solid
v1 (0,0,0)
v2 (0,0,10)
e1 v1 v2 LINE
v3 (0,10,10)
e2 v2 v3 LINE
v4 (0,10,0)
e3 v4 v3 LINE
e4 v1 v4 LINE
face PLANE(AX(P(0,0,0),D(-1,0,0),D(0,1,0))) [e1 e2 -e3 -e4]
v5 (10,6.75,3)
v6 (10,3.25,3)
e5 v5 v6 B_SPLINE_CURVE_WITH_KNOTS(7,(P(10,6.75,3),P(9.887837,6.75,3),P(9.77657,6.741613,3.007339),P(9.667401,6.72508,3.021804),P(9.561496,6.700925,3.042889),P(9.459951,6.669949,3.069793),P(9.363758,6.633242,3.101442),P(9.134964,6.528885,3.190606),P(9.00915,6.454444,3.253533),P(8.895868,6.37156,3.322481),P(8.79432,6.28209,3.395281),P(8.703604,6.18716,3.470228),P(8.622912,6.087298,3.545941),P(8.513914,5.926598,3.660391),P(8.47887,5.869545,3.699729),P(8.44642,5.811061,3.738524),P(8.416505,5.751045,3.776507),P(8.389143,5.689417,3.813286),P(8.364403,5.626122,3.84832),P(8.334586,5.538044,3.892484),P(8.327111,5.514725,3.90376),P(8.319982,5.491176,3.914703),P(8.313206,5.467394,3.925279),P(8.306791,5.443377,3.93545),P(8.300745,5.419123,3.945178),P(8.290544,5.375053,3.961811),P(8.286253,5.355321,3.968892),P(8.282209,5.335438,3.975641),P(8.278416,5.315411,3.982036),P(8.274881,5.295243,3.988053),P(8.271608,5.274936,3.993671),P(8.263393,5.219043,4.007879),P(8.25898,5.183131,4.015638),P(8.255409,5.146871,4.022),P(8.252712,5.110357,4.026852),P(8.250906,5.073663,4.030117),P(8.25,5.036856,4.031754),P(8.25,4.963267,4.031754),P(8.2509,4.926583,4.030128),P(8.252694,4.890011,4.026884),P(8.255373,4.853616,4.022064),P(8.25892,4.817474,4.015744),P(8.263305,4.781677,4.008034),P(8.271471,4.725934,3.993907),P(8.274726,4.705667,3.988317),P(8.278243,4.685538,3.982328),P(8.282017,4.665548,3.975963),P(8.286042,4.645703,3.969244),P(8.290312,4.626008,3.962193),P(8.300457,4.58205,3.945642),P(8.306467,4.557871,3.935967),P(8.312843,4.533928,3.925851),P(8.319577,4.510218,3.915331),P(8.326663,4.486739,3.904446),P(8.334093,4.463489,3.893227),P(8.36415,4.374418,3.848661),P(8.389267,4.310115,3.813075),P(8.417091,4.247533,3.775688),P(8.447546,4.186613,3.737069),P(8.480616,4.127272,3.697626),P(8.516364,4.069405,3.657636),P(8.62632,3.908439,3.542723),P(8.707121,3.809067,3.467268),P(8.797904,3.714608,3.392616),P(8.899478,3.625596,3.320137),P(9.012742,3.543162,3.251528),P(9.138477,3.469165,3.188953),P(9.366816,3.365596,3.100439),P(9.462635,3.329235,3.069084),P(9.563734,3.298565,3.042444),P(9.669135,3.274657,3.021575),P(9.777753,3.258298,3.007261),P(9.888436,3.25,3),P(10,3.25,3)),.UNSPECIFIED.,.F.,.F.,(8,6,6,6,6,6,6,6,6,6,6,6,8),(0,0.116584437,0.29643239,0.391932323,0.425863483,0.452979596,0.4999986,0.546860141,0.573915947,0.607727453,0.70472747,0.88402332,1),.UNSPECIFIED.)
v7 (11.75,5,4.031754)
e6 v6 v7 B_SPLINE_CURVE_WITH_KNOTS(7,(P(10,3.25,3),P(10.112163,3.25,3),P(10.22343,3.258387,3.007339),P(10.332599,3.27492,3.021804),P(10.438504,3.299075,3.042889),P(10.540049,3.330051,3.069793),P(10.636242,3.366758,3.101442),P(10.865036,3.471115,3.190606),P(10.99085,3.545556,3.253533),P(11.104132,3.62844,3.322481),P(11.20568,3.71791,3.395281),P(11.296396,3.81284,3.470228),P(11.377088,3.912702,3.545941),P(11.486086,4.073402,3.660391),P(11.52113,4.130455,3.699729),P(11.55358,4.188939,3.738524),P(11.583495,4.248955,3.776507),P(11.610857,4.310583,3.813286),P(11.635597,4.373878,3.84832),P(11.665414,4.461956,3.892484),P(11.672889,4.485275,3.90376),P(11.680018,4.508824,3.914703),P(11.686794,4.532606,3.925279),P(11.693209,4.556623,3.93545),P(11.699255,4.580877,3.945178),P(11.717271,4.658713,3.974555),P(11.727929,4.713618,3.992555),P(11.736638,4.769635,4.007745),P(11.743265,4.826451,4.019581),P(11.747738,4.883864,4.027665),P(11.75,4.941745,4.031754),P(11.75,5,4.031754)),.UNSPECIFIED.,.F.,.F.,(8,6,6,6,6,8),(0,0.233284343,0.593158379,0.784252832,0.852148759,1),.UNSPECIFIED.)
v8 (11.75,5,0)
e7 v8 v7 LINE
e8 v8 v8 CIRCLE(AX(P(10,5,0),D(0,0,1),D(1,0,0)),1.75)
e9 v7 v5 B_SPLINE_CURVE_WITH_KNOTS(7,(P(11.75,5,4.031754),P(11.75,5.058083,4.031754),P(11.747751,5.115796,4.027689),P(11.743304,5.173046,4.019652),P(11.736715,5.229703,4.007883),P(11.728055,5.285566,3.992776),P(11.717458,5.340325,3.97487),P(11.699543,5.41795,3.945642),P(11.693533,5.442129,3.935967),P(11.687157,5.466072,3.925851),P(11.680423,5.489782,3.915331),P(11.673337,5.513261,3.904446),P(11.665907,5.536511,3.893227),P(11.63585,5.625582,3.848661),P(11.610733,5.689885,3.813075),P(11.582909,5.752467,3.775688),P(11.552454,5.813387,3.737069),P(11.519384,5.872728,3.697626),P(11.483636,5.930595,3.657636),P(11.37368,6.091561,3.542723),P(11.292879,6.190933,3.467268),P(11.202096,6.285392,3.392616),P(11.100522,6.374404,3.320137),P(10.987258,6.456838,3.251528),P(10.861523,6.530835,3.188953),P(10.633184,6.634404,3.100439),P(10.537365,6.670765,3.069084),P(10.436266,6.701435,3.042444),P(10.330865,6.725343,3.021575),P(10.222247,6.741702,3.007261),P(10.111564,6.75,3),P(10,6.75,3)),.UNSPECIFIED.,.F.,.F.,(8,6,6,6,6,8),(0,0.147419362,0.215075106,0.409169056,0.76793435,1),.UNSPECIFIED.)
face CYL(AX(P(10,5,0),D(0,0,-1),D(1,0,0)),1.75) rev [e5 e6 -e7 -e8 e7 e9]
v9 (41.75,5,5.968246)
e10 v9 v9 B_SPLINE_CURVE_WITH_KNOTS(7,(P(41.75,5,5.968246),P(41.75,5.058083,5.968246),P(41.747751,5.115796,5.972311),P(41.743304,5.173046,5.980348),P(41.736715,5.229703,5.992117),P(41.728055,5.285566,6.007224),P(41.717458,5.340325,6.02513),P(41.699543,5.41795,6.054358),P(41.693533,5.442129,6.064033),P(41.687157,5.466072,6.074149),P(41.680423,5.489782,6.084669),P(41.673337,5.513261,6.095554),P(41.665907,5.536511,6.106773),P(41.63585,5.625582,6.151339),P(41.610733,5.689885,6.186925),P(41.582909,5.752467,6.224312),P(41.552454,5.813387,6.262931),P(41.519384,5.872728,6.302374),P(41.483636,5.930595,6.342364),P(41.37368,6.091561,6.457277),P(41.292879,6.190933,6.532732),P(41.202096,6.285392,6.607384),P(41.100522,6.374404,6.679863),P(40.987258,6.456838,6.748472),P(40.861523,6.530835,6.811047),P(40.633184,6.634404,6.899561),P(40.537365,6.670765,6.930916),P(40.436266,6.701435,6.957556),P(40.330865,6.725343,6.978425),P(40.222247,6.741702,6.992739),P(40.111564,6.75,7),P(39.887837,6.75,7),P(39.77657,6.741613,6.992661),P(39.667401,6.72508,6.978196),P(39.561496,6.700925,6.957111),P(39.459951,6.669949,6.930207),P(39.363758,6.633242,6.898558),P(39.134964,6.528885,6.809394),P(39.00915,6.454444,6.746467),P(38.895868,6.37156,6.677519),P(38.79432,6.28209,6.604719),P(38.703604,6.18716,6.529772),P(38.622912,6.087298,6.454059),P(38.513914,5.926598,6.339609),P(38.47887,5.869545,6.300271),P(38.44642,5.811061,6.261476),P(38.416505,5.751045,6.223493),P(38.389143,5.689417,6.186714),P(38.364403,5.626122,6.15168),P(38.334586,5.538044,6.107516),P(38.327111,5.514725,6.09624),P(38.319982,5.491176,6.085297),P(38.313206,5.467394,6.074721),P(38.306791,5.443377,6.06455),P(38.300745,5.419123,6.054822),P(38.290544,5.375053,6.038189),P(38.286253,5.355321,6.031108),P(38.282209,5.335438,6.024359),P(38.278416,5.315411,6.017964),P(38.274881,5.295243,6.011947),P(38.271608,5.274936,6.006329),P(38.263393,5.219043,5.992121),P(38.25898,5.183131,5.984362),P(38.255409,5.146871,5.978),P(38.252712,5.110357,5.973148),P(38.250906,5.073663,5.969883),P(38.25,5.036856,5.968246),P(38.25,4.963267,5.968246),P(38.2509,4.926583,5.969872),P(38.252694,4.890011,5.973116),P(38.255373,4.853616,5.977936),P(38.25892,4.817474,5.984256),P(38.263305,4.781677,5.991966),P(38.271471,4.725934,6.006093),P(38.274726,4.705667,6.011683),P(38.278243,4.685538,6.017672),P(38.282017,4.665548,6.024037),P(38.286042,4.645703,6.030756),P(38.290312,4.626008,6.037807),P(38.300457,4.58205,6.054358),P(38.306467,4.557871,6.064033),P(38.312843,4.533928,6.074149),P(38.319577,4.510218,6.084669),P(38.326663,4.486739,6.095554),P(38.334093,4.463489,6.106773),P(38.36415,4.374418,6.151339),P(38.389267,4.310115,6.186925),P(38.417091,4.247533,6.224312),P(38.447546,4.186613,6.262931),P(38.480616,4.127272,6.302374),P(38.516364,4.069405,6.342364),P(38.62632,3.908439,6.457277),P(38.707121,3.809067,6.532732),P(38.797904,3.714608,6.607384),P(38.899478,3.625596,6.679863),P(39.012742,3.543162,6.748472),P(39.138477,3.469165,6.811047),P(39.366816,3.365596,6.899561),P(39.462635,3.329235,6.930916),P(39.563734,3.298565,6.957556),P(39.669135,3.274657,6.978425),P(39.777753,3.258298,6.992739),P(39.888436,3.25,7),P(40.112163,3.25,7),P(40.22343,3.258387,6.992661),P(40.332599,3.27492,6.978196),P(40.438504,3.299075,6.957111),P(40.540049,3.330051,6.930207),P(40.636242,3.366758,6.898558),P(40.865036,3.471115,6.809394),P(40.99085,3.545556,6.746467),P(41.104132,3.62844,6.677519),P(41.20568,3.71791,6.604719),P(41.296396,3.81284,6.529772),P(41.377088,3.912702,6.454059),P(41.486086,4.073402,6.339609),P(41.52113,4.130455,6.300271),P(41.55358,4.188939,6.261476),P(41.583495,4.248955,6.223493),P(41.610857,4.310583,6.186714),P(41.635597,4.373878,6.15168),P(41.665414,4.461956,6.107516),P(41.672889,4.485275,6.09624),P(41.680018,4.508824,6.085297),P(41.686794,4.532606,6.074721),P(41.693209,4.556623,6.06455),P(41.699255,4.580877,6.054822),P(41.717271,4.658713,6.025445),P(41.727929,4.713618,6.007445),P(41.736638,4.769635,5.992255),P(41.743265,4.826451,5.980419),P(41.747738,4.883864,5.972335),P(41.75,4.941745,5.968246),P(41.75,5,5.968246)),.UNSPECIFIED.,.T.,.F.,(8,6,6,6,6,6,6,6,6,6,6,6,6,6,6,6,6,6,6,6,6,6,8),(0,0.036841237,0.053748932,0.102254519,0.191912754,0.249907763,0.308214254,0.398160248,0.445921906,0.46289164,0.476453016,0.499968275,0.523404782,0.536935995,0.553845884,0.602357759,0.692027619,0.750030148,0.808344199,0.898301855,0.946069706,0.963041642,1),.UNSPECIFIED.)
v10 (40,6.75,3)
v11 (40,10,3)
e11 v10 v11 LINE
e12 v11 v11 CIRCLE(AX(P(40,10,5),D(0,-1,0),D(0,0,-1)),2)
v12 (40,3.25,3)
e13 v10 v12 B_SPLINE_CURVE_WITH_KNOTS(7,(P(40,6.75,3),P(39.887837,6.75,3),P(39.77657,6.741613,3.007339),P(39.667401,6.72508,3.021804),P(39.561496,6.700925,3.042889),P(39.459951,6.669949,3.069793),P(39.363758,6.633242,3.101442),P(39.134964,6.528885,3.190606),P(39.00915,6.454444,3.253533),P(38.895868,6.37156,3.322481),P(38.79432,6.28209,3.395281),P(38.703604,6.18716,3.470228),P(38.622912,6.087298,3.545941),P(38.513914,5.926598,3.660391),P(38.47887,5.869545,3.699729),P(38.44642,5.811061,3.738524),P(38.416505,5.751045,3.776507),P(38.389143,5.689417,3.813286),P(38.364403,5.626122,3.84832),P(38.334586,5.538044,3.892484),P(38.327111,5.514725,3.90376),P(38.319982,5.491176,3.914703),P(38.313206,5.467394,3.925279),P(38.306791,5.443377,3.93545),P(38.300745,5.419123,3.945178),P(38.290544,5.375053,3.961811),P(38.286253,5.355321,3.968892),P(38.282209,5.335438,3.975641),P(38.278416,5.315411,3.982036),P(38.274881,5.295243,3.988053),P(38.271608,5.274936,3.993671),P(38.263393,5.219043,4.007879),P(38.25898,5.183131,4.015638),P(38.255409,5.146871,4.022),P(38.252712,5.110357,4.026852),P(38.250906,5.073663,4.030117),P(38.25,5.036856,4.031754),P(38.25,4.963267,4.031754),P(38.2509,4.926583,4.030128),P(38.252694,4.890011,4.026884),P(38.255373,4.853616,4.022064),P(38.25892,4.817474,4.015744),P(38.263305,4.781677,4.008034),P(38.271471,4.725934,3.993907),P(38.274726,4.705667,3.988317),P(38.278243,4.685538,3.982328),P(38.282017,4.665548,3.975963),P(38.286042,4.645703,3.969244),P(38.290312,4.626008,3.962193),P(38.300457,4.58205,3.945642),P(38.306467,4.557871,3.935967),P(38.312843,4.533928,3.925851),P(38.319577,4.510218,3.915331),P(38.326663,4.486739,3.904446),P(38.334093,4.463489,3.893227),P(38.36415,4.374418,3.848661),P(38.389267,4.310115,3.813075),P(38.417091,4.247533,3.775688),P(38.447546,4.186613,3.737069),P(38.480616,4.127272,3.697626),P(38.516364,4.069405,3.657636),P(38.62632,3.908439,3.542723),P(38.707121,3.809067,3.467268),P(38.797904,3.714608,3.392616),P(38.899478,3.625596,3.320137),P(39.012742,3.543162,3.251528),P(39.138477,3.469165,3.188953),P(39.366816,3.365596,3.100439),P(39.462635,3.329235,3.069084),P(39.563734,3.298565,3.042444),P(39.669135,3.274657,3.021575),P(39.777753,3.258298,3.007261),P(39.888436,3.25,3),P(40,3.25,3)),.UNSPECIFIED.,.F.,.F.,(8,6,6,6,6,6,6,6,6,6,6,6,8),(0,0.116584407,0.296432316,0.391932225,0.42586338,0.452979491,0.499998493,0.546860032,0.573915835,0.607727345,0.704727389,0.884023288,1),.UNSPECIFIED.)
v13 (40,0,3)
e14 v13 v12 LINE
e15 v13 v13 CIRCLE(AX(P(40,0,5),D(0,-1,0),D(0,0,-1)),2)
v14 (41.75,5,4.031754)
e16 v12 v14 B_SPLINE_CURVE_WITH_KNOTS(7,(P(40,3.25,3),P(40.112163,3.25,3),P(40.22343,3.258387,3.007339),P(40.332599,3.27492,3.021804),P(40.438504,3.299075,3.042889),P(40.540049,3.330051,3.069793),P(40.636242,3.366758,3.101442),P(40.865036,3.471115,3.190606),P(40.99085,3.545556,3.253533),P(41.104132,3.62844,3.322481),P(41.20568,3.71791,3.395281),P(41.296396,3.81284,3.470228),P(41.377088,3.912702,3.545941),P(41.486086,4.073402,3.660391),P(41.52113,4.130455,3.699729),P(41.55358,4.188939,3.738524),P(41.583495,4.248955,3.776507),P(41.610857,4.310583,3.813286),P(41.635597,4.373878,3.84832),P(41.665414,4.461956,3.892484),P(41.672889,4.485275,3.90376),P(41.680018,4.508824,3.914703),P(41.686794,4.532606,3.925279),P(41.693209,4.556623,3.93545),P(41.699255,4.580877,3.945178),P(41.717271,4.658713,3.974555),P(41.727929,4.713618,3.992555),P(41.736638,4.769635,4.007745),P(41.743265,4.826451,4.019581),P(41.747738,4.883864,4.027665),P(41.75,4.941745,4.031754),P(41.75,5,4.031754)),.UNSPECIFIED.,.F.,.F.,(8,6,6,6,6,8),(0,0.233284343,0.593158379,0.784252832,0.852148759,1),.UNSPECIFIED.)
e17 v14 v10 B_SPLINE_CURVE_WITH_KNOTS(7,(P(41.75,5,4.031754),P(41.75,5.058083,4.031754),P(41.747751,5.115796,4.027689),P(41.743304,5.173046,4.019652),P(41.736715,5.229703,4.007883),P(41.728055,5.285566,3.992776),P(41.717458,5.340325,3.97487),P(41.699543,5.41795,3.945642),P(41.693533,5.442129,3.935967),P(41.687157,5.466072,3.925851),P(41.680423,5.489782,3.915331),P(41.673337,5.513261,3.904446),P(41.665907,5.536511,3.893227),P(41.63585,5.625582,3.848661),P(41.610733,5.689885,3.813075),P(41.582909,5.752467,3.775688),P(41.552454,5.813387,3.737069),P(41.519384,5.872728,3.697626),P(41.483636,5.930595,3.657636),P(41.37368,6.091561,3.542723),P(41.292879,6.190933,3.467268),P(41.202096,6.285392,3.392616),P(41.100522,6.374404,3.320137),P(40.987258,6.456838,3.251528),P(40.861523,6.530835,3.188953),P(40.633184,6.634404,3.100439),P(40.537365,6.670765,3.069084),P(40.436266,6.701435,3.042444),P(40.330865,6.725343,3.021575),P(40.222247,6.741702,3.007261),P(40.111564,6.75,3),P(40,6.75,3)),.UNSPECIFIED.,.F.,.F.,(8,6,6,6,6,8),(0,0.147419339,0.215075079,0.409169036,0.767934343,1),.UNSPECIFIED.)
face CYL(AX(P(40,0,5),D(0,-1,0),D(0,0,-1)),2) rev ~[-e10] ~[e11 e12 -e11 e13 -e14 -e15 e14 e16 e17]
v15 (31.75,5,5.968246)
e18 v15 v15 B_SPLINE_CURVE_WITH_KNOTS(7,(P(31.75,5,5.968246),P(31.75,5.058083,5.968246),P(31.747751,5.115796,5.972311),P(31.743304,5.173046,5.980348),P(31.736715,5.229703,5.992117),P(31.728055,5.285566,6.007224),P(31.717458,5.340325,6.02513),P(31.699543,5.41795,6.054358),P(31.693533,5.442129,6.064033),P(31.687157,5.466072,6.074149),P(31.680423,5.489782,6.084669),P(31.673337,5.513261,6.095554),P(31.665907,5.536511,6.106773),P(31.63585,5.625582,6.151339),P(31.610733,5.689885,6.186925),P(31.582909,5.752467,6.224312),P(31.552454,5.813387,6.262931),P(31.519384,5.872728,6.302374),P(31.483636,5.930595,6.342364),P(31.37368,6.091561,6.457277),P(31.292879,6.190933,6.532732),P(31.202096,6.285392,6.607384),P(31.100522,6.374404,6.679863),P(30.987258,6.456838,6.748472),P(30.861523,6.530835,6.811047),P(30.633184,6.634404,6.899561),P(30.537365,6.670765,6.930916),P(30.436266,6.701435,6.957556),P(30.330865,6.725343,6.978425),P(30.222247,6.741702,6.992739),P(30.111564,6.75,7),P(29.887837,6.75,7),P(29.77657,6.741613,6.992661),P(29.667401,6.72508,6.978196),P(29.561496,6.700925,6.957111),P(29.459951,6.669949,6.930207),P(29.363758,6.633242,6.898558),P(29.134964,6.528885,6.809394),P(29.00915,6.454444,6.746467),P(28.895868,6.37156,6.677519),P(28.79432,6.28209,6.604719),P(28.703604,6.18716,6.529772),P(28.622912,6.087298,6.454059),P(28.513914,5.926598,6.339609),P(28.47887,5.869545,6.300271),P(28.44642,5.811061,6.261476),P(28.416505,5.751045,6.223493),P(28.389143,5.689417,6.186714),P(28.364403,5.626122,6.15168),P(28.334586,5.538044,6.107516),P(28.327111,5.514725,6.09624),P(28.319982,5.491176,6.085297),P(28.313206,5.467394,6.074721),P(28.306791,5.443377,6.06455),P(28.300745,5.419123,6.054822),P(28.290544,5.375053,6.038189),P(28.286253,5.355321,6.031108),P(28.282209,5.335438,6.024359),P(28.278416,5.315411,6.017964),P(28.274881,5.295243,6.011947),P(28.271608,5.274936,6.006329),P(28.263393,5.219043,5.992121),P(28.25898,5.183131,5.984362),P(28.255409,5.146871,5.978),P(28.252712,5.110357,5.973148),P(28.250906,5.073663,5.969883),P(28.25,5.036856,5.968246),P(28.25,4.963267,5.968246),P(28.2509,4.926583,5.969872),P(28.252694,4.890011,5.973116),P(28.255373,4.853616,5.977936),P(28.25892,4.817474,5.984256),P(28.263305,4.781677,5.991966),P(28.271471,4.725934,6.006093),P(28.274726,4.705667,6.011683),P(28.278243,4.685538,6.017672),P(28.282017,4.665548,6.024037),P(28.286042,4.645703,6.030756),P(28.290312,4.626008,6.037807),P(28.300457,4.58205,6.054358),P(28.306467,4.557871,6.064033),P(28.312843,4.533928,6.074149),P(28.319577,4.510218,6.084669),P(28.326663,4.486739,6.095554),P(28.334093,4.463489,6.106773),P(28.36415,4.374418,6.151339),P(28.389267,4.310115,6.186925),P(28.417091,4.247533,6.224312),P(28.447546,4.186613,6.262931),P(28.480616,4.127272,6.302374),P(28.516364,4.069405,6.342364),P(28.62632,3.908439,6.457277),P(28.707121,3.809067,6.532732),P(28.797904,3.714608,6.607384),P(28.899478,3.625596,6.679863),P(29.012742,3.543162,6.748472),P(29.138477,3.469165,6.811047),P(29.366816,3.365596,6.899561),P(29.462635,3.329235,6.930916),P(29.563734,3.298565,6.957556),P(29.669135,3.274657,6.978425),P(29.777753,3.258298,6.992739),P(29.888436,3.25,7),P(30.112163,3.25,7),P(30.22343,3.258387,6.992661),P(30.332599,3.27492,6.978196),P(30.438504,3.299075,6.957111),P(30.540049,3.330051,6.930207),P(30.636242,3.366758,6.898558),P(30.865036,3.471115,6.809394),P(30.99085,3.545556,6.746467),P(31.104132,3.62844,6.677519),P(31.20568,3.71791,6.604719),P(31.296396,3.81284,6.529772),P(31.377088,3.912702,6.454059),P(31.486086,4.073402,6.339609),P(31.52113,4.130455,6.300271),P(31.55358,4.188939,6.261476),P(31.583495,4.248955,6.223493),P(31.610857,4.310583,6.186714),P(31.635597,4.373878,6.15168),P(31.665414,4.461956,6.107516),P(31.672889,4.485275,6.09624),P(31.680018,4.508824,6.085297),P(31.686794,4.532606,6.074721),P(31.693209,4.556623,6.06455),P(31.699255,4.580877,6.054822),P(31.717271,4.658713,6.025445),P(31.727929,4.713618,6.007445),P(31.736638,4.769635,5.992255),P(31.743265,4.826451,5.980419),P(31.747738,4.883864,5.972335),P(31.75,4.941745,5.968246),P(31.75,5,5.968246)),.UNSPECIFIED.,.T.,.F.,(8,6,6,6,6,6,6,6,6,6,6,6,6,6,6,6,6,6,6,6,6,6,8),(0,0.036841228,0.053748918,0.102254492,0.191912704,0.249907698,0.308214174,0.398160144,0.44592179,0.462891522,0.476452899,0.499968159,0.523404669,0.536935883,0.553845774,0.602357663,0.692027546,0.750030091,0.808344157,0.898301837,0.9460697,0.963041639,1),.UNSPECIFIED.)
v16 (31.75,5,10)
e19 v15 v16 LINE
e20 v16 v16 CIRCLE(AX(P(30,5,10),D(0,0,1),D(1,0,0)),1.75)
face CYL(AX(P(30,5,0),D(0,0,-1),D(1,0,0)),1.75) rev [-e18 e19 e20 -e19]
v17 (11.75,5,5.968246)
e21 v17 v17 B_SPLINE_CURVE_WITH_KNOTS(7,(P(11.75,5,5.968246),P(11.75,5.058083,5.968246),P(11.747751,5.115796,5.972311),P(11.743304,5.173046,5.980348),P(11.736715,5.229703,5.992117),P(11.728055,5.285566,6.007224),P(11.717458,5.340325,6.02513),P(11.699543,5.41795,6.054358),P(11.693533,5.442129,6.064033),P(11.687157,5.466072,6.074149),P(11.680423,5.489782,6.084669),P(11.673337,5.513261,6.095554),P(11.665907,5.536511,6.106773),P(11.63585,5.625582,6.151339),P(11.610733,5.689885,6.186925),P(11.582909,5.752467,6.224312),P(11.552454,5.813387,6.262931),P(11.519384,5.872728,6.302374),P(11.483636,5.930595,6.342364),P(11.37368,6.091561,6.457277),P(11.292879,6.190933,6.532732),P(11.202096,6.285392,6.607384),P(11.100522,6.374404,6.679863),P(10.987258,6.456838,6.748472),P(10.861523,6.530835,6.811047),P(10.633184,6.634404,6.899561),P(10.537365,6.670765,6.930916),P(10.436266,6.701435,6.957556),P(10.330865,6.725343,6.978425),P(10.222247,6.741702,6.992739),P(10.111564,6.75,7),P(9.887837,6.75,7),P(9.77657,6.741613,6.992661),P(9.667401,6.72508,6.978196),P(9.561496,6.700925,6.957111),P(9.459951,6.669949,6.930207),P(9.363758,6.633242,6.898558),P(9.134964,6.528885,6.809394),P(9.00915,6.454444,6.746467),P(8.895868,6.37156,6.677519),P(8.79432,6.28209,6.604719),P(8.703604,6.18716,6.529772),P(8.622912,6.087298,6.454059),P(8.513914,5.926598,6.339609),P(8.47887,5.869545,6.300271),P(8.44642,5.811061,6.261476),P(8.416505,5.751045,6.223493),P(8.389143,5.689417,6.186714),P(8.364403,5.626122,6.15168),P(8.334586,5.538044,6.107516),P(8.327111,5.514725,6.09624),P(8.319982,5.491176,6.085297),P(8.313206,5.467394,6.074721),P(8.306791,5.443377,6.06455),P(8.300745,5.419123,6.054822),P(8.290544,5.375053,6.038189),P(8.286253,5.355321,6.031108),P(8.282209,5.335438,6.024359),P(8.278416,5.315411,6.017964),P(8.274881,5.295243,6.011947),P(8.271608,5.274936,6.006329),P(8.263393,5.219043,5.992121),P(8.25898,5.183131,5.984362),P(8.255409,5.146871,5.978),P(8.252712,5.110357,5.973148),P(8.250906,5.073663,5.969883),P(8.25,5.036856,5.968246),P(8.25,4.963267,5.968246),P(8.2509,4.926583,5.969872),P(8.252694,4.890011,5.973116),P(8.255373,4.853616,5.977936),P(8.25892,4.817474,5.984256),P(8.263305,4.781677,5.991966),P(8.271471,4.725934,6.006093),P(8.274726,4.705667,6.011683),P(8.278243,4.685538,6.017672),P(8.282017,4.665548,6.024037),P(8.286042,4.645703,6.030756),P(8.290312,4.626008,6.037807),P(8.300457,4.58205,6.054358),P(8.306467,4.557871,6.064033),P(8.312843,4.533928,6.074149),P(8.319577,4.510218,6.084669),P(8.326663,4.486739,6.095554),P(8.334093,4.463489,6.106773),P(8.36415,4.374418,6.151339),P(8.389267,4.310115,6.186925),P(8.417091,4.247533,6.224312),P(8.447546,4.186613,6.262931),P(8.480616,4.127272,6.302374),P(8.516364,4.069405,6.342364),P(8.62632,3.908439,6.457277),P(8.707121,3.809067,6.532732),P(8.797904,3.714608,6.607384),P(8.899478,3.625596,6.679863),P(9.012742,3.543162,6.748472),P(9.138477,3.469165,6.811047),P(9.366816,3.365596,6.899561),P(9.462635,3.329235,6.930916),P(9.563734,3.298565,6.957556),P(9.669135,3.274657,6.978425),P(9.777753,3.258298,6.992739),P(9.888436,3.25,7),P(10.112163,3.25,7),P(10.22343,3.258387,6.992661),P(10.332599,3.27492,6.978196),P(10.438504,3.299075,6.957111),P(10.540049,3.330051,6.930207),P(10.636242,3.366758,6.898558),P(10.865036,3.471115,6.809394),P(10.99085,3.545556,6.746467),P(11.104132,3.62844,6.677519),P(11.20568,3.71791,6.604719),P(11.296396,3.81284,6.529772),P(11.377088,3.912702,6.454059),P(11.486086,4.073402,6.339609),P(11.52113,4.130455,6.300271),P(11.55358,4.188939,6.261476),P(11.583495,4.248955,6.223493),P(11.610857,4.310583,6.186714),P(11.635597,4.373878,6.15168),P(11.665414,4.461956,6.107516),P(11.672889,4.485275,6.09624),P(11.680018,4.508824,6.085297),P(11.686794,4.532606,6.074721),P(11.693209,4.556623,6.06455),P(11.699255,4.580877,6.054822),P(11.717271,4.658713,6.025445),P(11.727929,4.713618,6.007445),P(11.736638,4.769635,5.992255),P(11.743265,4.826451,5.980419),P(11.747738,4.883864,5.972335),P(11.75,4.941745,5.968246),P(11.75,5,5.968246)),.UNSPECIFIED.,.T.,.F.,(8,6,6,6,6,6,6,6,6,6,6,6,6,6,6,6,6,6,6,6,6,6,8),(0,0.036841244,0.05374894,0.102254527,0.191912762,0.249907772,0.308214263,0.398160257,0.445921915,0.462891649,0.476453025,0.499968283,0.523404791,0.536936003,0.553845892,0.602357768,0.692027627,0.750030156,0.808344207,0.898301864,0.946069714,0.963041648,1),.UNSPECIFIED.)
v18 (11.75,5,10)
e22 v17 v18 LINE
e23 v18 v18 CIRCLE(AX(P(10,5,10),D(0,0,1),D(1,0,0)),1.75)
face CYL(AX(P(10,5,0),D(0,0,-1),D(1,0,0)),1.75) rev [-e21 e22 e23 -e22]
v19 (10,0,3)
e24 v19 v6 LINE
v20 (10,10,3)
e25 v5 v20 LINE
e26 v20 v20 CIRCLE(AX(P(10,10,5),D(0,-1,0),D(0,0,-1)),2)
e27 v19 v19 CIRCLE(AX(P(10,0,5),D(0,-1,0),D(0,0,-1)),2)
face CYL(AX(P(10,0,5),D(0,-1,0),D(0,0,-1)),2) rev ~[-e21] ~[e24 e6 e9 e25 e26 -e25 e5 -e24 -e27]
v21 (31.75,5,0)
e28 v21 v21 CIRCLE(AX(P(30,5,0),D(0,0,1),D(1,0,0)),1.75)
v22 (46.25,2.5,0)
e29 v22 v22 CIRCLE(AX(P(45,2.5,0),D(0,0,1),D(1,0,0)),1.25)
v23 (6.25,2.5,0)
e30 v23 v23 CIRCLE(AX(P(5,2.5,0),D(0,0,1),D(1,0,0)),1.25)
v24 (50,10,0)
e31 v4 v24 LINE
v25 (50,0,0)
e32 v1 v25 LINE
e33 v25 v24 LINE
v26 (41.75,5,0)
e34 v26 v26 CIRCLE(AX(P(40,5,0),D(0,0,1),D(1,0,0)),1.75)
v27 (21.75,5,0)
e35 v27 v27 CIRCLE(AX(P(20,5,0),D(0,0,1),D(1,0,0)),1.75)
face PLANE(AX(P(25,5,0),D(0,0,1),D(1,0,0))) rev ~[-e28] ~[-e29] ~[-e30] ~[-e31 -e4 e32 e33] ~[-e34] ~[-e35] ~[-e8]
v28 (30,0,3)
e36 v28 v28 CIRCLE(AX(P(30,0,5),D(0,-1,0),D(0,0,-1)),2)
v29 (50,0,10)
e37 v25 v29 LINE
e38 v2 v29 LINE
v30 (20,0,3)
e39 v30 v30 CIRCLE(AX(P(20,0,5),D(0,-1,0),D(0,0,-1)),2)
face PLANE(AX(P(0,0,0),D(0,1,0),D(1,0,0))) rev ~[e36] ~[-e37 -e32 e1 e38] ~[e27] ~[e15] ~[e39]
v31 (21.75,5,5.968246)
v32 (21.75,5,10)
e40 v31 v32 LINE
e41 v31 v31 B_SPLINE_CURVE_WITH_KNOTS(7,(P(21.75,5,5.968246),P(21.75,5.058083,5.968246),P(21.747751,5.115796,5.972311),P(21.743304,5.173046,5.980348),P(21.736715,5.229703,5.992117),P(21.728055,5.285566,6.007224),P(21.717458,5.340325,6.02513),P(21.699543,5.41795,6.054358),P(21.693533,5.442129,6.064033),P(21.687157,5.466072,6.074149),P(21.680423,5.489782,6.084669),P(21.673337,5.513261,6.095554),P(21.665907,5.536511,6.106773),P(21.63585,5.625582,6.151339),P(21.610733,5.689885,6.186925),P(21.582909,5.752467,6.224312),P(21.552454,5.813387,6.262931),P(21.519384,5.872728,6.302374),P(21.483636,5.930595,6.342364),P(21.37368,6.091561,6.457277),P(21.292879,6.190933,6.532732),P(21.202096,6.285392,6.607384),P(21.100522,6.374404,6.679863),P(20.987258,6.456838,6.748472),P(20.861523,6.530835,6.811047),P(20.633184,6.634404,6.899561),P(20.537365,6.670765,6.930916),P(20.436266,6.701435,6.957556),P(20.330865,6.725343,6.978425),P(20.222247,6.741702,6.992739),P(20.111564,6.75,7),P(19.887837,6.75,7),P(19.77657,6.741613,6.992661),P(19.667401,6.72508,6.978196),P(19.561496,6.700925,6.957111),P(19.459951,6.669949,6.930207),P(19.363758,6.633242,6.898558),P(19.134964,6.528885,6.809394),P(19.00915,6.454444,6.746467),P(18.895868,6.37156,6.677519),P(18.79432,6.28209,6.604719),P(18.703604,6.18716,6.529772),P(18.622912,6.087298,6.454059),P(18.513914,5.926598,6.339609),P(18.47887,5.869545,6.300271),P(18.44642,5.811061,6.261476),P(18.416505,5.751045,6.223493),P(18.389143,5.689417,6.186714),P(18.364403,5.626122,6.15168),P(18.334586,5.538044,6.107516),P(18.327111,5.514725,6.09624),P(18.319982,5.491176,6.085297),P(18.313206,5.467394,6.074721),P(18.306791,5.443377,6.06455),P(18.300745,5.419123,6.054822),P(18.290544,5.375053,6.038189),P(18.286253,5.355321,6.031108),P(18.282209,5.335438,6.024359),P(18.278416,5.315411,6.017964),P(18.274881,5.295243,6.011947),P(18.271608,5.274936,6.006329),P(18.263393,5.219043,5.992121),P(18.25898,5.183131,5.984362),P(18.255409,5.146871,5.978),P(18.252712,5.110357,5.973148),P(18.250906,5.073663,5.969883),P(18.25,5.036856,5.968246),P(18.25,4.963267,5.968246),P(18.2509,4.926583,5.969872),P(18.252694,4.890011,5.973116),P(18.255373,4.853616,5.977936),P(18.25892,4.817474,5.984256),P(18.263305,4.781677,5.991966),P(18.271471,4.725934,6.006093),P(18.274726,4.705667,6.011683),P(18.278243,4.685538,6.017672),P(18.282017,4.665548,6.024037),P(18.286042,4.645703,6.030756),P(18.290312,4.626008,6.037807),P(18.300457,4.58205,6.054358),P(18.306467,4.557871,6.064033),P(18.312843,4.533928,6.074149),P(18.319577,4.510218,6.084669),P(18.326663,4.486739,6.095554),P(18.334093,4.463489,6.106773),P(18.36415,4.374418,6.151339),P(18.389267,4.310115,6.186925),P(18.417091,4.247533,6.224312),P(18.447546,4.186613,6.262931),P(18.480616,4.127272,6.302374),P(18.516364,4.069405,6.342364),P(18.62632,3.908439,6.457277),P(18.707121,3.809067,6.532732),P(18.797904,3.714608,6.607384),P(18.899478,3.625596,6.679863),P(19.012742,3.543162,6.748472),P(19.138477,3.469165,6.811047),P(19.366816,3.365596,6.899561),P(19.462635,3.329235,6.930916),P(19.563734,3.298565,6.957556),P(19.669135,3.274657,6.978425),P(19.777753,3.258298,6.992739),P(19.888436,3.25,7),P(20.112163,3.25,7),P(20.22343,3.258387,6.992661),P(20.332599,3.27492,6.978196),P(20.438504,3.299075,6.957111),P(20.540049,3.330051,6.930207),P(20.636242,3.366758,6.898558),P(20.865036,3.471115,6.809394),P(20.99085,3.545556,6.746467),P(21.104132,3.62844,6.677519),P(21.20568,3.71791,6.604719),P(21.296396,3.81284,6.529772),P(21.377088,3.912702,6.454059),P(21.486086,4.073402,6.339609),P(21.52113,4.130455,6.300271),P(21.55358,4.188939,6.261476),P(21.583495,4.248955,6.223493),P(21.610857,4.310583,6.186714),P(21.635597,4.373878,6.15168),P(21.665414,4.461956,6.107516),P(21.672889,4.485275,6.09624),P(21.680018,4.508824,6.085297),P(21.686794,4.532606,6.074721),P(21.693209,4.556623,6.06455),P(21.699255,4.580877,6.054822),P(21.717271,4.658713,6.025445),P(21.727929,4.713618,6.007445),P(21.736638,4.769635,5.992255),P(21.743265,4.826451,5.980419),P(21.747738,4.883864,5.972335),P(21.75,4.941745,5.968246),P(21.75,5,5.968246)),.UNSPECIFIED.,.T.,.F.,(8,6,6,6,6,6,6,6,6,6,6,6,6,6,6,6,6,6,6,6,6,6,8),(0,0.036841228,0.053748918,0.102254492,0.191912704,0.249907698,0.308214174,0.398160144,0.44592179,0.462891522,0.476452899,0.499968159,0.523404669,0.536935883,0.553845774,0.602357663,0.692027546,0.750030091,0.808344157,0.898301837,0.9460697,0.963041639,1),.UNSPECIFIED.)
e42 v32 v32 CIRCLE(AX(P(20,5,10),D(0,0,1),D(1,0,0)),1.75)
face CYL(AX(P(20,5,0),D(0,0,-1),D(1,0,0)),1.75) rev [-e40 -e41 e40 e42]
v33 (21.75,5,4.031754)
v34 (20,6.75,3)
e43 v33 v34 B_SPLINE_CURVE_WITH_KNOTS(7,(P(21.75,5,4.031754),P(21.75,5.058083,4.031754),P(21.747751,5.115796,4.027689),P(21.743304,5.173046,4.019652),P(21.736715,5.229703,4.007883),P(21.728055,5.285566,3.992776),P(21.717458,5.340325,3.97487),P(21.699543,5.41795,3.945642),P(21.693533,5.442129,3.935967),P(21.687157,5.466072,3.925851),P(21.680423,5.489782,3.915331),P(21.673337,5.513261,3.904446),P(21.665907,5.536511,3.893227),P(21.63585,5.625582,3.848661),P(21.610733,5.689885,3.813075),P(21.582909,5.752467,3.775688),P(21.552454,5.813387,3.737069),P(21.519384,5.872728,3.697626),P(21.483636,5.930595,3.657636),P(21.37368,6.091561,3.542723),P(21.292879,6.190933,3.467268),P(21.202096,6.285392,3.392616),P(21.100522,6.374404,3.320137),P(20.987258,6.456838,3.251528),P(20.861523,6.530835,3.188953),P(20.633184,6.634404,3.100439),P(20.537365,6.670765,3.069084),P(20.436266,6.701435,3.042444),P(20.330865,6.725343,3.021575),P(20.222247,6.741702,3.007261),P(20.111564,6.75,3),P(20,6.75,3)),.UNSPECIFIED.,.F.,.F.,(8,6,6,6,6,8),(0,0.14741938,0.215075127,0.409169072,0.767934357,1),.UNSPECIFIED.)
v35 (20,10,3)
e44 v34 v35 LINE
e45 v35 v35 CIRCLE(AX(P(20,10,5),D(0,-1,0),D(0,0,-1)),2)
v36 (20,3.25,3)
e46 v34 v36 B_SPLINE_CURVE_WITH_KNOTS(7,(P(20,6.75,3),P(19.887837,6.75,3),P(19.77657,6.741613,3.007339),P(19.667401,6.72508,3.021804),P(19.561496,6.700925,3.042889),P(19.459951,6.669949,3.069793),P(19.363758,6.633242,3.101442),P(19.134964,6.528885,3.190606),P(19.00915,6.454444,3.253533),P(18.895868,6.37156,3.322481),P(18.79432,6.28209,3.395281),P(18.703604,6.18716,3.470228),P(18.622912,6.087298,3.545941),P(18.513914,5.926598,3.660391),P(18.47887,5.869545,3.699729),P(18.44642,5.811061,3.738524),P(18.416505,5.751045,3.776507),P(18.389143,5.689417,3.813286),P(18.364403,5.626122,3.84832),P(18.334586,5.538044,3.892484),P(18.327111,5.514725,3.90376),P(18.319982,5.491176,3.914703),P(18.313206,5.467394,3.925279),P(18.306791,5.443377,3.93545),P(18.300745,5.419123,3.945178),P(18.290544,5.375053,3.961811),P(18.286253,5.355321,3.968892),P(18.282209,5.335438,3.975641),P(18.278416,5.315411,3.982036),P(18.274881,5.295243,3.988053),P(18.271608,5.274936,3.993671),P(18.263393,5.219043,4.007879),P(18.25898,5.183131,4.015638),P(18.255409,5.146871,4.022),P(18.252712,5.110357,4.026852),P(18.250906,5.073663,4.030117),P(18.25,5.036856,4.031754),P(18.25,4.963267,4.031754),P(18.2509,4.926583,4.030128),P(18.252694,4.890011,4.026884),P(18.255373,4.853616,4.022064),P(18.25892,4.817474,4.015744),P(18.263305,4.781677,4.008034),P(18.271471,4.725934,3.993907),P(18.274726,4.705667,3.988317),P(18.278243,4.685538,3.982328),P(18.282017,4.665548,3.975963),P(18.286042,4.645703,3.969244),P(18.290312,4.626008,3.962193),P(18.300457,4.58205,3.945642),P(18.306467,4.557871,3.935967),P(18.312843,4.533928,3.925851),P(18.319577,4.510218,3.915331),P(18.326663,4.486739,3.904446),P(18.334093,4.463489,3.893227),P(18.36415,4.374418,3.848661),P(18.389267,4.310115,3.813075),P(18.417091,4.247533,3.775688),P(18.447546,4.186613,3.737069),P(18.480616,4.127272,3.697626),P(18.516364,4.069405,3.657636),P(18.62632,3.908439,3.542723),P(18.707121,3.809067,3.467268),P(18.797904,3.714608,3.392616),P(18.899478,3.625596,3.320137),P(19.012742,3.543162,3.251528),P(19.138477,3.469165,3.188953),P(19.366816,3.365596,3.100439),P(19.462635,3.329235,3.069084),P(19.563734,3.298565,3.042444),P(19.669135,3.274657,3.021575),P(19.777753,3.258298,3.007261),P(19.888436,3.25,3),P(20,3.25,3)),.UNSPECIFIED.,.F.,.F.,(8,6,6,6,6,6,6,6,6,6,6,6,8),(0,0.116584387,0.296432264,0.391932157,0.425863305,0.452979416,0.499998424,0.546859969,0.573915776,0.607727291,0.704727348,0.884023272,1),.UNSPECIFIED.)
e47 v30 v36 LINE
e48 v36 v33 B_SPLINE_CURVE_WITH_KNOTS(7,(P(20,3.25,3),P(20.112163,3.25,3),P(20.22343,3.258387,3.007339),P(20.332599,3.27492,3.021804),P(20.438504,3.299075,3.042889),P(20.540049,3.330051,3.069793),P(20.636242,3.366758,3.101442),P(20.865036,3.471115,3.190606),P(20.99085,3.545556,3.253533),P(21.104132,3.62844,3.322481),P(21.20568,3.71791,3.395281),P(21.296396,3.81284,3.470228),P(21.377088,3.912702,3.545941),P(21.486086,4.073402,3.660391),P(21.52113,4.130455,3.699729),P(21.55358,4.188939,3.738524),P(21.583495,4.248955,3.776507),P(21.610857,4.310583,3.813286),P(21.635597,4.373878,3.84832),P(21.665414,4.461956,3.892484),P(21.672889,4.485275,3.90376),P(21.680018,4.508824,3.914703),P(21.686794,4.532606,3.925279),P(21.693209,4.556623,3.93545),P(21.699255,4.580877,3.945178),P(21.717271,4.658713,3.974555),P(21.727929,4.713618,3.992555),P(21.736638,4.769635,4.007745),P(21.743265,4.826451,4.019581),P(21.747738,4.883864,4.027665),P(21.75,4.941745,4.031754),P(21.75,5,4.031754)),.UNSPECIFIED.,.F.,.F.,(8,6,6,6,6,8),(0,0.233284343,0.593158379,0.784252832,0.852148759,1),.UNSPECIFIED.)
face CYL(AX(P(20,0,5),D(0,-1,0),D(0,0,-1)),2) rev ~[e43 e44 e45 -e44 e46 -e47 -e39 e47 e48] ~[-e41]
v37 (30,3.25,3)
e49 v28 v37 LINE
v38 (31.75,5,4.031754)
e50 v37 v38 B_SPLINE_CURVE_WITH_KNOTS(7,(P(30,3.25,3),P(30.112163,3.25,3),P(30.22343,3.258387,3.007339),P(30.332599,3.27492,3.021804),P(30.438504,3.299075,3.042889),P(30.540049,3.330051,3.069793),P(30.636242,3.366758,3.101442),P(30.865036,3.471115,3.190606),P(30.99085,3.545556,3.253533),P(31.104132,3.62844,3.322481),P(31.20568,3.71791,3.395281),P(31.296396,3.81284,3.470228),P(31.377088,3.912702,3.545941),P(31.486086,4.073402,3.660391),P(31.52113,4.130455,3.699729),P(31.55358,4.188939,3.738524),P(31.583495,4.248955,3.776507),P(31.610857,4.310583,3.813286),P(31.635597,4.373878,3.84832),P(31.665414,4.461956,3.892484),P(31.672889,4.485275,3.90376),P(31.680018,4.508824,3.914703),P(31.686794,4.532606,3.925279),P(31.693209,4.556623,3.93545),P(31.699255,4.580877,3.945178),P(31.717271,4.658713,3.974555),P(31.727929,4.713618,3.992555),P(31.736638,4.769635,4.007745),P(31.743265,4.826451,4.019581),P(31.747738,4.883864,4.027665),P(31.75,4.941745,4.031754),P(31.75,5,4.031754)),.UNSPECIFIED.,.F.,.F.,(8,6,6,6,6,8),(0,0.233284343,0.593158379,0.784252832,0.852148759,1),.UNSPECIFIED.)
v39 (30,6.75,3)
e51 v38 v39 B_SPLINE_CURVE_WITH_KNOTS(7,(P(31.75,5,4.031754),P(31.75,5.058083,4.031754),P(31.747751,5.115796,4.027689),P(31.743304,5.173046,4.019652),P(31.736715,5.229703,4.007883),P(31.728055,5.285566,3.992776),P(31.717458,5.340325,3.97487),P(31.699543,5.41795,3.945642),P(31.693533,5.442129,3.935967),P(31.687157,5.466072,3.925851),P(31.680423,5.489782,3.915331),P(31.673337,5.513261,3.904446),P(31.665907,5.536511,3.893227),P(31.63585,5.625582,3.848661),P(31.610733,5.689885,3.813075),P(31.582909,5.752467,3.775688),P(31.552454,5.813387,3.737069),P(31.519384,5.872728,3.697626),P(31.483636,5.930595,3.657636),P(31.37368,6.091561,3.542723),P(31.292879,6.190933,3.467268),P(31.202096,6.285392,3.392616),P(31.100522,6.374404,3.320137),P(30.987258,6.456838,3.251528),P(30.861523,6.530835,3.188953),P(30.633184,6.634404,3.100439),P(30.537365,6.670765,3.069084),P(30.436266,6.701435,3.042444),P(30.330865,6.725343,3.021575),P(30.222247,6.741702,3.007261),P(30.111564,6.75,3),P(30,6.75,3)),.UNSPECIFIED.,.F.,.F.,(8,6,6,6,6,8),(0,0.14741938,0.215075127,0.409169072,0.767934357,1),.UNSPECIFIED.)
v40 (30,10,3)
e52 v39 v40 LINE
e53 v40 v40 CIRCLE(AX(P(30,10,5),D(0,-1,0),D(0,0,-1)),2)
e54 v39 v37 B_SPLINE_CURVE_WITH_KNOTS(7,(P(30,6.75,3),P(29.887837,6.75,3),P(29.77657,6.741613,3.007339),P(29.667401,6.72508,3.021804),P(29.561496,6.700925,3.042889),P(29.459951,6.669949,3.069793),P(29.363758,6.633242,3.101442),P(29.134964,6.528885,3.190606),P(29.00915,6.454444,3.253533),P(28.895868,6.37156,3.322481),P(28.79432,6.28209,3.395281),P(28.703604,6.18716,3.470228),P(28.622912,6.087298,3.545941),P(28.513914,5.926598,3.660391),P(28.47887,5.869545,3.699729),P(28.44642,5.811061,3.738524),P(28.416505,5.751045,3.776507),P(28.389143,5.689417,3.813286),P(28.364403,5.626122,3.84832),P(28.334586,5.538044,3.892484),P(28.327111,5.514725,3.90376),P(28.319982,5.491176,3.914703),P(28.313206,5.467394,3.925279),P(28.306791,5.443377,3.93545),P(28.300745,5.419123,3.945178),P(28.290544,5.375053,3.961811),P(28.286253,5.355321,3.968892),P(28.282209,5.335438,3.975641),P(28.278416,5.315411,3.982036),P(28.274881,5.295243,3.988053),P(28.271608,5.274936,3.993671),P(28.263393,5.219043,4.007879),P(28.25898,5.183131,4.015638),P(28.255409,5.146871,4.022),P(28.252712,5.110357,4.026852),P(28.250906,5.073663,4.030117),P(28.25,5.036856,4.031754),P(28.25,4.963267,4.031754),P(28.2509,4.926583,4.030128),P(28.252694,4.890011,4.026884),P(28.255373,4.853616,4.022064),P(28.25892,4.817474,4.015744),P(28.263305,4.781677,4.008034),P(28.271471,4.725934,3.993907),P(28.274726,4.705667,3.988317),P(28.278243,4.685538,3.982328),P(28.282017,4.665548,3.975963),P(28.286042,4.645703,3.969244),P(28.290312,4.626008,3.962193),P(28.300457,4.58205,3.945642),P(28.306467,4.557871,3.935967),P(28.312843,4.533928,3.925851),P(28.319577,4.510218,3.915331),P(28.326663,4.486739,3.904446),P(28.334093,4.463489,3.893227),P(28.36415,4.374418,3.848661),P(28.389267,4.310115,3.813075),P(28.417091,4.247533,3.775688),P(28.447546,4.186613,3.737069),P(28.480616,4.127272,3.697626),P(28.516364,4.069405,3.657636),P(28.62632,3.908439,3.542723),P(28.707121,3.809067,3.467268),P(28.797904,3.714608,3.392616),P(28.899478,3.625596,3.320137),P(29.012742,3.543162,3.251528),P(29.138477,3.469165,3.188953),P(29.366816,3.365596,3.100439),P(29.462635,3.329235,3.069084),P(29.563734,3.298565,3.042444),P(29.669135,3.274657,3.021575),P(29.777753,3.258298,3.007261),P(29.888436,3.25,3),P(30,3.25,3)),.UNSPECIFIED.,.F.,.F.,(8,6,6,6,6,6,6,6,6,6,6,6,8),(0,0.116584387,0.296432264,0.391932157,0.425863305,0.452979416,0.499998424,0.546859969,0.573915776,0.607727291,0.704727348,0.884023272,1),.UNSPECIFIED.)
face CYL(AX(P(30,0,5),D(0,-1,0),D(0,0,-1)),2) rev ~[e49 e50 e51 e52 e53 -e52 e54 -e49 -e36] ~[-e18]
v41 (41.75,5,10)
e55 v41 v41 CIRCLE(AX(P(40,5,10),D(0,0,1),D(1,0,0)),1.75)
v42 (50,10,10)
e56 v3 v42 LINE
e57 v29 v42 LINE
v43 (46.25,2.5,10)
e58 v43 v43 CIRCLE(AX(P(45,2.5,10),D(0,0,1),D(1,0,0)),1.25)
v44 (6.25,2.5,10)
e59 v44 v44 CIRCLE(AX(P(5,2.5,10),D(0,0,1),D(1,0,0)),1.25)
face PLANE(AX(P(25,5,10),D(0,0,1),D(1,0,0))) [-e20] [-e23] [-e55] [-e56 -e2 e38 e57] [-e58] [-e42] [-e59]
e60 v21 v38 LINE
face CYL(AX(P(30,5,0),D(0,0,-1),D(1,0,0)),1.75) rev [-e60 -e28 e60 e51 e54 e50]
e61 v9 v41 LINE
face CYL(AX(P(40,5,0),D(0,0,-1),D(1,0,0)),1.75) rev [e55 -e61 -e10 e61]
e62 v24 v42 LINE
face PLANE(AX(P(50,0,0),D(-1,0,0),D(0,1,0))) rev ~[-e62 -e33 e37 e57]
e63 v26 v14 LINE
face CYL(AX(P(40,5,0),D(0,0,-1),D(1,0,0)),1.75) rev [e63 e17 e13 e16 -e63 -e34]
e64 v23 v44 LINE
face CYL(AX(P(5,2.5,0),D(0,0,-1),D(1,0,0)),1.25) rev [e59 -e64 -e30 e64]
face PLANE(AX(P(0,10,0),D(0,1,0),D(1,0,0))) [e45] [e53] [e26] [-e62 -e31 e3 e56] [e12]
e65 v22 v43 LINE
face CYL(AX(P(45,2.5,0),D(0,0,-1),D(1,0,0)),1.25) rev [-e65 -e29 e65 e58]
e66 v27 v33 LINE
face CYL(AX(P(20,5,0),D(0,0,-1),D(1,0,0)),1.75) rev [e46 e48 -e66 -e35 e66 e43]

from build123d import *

# Parameters (mm, degrees)
ESQUISSE1_W             = 50
ESQUISSE1_H             = 10
ESQUISSE1_R             = 1.25
ESQUISSE1_R_2           = 1.75
BOSS_EXTRU_1_DEPTH      = 10
ESQUISSE2_R             = 2
ENL_V_MAT_EXTRU_1_DEPTH = 10


with BuildPart() as part:
    # Esquisse1 → Boss.-Extru.1 (new body)
    with BuildSketch(Plane.XY):
        with Locations((25, 5)):
            Rectangle(ESQUISSE1_W, ESQUISSE1_H)
        with Locations((5, 2.5)):
            Circle(ESQUISSE1_R, mode=Mode.SUBTRACT)
        with Locations((45, 2.5)):
            Circle(ESQUISSE1_R, mode=Mode.SUBTRACT)
        with Locations((40, 5)):
            Circle(ESQUISSE1_R_2, mode=Mode.SUBTRACT)
        with Locations((30, 5)):
            Circle(ESQUISSE1_R_2, mode=Mode.SUBTRACT)
        with Locations((20, 5)):
            Circle(ESQUISSE1_R_2, mode=Mode.SUBTRACT)
        with Locations((10, 5)):
            Circle(ESQUISSE1_R_2, mode=Mode.SUBTRACT)
    extrude(amount=BOSS_EXTRU_1_DEPTH)

    # Esquisse2 → Enlèv. mat.-Extru.1 (cut)
    with BuildSketch(Plane.XZ):
        with Locations(Location((40, 5, 0), (0, 0, 270))):
            Circle(ESQUISSE2_R)
        with Locations(Location((30, 5, 0), (0, 0, 270))):
            Circle(ESQUISSE2_R)
        with Locations(Location((20, 5, 0), (0, 0, 270))):
            Circle(ESQUISSE2_R)
        with Locations(Location((10, 5, 0), (0, 0, 270))):
            Circle(ESQUISSE2_R)
    extrude(amount=-ENL_V_MAT_EXTRU_1_DEPTH, mode=Mode.SUBTRACT)


solid = part.part
